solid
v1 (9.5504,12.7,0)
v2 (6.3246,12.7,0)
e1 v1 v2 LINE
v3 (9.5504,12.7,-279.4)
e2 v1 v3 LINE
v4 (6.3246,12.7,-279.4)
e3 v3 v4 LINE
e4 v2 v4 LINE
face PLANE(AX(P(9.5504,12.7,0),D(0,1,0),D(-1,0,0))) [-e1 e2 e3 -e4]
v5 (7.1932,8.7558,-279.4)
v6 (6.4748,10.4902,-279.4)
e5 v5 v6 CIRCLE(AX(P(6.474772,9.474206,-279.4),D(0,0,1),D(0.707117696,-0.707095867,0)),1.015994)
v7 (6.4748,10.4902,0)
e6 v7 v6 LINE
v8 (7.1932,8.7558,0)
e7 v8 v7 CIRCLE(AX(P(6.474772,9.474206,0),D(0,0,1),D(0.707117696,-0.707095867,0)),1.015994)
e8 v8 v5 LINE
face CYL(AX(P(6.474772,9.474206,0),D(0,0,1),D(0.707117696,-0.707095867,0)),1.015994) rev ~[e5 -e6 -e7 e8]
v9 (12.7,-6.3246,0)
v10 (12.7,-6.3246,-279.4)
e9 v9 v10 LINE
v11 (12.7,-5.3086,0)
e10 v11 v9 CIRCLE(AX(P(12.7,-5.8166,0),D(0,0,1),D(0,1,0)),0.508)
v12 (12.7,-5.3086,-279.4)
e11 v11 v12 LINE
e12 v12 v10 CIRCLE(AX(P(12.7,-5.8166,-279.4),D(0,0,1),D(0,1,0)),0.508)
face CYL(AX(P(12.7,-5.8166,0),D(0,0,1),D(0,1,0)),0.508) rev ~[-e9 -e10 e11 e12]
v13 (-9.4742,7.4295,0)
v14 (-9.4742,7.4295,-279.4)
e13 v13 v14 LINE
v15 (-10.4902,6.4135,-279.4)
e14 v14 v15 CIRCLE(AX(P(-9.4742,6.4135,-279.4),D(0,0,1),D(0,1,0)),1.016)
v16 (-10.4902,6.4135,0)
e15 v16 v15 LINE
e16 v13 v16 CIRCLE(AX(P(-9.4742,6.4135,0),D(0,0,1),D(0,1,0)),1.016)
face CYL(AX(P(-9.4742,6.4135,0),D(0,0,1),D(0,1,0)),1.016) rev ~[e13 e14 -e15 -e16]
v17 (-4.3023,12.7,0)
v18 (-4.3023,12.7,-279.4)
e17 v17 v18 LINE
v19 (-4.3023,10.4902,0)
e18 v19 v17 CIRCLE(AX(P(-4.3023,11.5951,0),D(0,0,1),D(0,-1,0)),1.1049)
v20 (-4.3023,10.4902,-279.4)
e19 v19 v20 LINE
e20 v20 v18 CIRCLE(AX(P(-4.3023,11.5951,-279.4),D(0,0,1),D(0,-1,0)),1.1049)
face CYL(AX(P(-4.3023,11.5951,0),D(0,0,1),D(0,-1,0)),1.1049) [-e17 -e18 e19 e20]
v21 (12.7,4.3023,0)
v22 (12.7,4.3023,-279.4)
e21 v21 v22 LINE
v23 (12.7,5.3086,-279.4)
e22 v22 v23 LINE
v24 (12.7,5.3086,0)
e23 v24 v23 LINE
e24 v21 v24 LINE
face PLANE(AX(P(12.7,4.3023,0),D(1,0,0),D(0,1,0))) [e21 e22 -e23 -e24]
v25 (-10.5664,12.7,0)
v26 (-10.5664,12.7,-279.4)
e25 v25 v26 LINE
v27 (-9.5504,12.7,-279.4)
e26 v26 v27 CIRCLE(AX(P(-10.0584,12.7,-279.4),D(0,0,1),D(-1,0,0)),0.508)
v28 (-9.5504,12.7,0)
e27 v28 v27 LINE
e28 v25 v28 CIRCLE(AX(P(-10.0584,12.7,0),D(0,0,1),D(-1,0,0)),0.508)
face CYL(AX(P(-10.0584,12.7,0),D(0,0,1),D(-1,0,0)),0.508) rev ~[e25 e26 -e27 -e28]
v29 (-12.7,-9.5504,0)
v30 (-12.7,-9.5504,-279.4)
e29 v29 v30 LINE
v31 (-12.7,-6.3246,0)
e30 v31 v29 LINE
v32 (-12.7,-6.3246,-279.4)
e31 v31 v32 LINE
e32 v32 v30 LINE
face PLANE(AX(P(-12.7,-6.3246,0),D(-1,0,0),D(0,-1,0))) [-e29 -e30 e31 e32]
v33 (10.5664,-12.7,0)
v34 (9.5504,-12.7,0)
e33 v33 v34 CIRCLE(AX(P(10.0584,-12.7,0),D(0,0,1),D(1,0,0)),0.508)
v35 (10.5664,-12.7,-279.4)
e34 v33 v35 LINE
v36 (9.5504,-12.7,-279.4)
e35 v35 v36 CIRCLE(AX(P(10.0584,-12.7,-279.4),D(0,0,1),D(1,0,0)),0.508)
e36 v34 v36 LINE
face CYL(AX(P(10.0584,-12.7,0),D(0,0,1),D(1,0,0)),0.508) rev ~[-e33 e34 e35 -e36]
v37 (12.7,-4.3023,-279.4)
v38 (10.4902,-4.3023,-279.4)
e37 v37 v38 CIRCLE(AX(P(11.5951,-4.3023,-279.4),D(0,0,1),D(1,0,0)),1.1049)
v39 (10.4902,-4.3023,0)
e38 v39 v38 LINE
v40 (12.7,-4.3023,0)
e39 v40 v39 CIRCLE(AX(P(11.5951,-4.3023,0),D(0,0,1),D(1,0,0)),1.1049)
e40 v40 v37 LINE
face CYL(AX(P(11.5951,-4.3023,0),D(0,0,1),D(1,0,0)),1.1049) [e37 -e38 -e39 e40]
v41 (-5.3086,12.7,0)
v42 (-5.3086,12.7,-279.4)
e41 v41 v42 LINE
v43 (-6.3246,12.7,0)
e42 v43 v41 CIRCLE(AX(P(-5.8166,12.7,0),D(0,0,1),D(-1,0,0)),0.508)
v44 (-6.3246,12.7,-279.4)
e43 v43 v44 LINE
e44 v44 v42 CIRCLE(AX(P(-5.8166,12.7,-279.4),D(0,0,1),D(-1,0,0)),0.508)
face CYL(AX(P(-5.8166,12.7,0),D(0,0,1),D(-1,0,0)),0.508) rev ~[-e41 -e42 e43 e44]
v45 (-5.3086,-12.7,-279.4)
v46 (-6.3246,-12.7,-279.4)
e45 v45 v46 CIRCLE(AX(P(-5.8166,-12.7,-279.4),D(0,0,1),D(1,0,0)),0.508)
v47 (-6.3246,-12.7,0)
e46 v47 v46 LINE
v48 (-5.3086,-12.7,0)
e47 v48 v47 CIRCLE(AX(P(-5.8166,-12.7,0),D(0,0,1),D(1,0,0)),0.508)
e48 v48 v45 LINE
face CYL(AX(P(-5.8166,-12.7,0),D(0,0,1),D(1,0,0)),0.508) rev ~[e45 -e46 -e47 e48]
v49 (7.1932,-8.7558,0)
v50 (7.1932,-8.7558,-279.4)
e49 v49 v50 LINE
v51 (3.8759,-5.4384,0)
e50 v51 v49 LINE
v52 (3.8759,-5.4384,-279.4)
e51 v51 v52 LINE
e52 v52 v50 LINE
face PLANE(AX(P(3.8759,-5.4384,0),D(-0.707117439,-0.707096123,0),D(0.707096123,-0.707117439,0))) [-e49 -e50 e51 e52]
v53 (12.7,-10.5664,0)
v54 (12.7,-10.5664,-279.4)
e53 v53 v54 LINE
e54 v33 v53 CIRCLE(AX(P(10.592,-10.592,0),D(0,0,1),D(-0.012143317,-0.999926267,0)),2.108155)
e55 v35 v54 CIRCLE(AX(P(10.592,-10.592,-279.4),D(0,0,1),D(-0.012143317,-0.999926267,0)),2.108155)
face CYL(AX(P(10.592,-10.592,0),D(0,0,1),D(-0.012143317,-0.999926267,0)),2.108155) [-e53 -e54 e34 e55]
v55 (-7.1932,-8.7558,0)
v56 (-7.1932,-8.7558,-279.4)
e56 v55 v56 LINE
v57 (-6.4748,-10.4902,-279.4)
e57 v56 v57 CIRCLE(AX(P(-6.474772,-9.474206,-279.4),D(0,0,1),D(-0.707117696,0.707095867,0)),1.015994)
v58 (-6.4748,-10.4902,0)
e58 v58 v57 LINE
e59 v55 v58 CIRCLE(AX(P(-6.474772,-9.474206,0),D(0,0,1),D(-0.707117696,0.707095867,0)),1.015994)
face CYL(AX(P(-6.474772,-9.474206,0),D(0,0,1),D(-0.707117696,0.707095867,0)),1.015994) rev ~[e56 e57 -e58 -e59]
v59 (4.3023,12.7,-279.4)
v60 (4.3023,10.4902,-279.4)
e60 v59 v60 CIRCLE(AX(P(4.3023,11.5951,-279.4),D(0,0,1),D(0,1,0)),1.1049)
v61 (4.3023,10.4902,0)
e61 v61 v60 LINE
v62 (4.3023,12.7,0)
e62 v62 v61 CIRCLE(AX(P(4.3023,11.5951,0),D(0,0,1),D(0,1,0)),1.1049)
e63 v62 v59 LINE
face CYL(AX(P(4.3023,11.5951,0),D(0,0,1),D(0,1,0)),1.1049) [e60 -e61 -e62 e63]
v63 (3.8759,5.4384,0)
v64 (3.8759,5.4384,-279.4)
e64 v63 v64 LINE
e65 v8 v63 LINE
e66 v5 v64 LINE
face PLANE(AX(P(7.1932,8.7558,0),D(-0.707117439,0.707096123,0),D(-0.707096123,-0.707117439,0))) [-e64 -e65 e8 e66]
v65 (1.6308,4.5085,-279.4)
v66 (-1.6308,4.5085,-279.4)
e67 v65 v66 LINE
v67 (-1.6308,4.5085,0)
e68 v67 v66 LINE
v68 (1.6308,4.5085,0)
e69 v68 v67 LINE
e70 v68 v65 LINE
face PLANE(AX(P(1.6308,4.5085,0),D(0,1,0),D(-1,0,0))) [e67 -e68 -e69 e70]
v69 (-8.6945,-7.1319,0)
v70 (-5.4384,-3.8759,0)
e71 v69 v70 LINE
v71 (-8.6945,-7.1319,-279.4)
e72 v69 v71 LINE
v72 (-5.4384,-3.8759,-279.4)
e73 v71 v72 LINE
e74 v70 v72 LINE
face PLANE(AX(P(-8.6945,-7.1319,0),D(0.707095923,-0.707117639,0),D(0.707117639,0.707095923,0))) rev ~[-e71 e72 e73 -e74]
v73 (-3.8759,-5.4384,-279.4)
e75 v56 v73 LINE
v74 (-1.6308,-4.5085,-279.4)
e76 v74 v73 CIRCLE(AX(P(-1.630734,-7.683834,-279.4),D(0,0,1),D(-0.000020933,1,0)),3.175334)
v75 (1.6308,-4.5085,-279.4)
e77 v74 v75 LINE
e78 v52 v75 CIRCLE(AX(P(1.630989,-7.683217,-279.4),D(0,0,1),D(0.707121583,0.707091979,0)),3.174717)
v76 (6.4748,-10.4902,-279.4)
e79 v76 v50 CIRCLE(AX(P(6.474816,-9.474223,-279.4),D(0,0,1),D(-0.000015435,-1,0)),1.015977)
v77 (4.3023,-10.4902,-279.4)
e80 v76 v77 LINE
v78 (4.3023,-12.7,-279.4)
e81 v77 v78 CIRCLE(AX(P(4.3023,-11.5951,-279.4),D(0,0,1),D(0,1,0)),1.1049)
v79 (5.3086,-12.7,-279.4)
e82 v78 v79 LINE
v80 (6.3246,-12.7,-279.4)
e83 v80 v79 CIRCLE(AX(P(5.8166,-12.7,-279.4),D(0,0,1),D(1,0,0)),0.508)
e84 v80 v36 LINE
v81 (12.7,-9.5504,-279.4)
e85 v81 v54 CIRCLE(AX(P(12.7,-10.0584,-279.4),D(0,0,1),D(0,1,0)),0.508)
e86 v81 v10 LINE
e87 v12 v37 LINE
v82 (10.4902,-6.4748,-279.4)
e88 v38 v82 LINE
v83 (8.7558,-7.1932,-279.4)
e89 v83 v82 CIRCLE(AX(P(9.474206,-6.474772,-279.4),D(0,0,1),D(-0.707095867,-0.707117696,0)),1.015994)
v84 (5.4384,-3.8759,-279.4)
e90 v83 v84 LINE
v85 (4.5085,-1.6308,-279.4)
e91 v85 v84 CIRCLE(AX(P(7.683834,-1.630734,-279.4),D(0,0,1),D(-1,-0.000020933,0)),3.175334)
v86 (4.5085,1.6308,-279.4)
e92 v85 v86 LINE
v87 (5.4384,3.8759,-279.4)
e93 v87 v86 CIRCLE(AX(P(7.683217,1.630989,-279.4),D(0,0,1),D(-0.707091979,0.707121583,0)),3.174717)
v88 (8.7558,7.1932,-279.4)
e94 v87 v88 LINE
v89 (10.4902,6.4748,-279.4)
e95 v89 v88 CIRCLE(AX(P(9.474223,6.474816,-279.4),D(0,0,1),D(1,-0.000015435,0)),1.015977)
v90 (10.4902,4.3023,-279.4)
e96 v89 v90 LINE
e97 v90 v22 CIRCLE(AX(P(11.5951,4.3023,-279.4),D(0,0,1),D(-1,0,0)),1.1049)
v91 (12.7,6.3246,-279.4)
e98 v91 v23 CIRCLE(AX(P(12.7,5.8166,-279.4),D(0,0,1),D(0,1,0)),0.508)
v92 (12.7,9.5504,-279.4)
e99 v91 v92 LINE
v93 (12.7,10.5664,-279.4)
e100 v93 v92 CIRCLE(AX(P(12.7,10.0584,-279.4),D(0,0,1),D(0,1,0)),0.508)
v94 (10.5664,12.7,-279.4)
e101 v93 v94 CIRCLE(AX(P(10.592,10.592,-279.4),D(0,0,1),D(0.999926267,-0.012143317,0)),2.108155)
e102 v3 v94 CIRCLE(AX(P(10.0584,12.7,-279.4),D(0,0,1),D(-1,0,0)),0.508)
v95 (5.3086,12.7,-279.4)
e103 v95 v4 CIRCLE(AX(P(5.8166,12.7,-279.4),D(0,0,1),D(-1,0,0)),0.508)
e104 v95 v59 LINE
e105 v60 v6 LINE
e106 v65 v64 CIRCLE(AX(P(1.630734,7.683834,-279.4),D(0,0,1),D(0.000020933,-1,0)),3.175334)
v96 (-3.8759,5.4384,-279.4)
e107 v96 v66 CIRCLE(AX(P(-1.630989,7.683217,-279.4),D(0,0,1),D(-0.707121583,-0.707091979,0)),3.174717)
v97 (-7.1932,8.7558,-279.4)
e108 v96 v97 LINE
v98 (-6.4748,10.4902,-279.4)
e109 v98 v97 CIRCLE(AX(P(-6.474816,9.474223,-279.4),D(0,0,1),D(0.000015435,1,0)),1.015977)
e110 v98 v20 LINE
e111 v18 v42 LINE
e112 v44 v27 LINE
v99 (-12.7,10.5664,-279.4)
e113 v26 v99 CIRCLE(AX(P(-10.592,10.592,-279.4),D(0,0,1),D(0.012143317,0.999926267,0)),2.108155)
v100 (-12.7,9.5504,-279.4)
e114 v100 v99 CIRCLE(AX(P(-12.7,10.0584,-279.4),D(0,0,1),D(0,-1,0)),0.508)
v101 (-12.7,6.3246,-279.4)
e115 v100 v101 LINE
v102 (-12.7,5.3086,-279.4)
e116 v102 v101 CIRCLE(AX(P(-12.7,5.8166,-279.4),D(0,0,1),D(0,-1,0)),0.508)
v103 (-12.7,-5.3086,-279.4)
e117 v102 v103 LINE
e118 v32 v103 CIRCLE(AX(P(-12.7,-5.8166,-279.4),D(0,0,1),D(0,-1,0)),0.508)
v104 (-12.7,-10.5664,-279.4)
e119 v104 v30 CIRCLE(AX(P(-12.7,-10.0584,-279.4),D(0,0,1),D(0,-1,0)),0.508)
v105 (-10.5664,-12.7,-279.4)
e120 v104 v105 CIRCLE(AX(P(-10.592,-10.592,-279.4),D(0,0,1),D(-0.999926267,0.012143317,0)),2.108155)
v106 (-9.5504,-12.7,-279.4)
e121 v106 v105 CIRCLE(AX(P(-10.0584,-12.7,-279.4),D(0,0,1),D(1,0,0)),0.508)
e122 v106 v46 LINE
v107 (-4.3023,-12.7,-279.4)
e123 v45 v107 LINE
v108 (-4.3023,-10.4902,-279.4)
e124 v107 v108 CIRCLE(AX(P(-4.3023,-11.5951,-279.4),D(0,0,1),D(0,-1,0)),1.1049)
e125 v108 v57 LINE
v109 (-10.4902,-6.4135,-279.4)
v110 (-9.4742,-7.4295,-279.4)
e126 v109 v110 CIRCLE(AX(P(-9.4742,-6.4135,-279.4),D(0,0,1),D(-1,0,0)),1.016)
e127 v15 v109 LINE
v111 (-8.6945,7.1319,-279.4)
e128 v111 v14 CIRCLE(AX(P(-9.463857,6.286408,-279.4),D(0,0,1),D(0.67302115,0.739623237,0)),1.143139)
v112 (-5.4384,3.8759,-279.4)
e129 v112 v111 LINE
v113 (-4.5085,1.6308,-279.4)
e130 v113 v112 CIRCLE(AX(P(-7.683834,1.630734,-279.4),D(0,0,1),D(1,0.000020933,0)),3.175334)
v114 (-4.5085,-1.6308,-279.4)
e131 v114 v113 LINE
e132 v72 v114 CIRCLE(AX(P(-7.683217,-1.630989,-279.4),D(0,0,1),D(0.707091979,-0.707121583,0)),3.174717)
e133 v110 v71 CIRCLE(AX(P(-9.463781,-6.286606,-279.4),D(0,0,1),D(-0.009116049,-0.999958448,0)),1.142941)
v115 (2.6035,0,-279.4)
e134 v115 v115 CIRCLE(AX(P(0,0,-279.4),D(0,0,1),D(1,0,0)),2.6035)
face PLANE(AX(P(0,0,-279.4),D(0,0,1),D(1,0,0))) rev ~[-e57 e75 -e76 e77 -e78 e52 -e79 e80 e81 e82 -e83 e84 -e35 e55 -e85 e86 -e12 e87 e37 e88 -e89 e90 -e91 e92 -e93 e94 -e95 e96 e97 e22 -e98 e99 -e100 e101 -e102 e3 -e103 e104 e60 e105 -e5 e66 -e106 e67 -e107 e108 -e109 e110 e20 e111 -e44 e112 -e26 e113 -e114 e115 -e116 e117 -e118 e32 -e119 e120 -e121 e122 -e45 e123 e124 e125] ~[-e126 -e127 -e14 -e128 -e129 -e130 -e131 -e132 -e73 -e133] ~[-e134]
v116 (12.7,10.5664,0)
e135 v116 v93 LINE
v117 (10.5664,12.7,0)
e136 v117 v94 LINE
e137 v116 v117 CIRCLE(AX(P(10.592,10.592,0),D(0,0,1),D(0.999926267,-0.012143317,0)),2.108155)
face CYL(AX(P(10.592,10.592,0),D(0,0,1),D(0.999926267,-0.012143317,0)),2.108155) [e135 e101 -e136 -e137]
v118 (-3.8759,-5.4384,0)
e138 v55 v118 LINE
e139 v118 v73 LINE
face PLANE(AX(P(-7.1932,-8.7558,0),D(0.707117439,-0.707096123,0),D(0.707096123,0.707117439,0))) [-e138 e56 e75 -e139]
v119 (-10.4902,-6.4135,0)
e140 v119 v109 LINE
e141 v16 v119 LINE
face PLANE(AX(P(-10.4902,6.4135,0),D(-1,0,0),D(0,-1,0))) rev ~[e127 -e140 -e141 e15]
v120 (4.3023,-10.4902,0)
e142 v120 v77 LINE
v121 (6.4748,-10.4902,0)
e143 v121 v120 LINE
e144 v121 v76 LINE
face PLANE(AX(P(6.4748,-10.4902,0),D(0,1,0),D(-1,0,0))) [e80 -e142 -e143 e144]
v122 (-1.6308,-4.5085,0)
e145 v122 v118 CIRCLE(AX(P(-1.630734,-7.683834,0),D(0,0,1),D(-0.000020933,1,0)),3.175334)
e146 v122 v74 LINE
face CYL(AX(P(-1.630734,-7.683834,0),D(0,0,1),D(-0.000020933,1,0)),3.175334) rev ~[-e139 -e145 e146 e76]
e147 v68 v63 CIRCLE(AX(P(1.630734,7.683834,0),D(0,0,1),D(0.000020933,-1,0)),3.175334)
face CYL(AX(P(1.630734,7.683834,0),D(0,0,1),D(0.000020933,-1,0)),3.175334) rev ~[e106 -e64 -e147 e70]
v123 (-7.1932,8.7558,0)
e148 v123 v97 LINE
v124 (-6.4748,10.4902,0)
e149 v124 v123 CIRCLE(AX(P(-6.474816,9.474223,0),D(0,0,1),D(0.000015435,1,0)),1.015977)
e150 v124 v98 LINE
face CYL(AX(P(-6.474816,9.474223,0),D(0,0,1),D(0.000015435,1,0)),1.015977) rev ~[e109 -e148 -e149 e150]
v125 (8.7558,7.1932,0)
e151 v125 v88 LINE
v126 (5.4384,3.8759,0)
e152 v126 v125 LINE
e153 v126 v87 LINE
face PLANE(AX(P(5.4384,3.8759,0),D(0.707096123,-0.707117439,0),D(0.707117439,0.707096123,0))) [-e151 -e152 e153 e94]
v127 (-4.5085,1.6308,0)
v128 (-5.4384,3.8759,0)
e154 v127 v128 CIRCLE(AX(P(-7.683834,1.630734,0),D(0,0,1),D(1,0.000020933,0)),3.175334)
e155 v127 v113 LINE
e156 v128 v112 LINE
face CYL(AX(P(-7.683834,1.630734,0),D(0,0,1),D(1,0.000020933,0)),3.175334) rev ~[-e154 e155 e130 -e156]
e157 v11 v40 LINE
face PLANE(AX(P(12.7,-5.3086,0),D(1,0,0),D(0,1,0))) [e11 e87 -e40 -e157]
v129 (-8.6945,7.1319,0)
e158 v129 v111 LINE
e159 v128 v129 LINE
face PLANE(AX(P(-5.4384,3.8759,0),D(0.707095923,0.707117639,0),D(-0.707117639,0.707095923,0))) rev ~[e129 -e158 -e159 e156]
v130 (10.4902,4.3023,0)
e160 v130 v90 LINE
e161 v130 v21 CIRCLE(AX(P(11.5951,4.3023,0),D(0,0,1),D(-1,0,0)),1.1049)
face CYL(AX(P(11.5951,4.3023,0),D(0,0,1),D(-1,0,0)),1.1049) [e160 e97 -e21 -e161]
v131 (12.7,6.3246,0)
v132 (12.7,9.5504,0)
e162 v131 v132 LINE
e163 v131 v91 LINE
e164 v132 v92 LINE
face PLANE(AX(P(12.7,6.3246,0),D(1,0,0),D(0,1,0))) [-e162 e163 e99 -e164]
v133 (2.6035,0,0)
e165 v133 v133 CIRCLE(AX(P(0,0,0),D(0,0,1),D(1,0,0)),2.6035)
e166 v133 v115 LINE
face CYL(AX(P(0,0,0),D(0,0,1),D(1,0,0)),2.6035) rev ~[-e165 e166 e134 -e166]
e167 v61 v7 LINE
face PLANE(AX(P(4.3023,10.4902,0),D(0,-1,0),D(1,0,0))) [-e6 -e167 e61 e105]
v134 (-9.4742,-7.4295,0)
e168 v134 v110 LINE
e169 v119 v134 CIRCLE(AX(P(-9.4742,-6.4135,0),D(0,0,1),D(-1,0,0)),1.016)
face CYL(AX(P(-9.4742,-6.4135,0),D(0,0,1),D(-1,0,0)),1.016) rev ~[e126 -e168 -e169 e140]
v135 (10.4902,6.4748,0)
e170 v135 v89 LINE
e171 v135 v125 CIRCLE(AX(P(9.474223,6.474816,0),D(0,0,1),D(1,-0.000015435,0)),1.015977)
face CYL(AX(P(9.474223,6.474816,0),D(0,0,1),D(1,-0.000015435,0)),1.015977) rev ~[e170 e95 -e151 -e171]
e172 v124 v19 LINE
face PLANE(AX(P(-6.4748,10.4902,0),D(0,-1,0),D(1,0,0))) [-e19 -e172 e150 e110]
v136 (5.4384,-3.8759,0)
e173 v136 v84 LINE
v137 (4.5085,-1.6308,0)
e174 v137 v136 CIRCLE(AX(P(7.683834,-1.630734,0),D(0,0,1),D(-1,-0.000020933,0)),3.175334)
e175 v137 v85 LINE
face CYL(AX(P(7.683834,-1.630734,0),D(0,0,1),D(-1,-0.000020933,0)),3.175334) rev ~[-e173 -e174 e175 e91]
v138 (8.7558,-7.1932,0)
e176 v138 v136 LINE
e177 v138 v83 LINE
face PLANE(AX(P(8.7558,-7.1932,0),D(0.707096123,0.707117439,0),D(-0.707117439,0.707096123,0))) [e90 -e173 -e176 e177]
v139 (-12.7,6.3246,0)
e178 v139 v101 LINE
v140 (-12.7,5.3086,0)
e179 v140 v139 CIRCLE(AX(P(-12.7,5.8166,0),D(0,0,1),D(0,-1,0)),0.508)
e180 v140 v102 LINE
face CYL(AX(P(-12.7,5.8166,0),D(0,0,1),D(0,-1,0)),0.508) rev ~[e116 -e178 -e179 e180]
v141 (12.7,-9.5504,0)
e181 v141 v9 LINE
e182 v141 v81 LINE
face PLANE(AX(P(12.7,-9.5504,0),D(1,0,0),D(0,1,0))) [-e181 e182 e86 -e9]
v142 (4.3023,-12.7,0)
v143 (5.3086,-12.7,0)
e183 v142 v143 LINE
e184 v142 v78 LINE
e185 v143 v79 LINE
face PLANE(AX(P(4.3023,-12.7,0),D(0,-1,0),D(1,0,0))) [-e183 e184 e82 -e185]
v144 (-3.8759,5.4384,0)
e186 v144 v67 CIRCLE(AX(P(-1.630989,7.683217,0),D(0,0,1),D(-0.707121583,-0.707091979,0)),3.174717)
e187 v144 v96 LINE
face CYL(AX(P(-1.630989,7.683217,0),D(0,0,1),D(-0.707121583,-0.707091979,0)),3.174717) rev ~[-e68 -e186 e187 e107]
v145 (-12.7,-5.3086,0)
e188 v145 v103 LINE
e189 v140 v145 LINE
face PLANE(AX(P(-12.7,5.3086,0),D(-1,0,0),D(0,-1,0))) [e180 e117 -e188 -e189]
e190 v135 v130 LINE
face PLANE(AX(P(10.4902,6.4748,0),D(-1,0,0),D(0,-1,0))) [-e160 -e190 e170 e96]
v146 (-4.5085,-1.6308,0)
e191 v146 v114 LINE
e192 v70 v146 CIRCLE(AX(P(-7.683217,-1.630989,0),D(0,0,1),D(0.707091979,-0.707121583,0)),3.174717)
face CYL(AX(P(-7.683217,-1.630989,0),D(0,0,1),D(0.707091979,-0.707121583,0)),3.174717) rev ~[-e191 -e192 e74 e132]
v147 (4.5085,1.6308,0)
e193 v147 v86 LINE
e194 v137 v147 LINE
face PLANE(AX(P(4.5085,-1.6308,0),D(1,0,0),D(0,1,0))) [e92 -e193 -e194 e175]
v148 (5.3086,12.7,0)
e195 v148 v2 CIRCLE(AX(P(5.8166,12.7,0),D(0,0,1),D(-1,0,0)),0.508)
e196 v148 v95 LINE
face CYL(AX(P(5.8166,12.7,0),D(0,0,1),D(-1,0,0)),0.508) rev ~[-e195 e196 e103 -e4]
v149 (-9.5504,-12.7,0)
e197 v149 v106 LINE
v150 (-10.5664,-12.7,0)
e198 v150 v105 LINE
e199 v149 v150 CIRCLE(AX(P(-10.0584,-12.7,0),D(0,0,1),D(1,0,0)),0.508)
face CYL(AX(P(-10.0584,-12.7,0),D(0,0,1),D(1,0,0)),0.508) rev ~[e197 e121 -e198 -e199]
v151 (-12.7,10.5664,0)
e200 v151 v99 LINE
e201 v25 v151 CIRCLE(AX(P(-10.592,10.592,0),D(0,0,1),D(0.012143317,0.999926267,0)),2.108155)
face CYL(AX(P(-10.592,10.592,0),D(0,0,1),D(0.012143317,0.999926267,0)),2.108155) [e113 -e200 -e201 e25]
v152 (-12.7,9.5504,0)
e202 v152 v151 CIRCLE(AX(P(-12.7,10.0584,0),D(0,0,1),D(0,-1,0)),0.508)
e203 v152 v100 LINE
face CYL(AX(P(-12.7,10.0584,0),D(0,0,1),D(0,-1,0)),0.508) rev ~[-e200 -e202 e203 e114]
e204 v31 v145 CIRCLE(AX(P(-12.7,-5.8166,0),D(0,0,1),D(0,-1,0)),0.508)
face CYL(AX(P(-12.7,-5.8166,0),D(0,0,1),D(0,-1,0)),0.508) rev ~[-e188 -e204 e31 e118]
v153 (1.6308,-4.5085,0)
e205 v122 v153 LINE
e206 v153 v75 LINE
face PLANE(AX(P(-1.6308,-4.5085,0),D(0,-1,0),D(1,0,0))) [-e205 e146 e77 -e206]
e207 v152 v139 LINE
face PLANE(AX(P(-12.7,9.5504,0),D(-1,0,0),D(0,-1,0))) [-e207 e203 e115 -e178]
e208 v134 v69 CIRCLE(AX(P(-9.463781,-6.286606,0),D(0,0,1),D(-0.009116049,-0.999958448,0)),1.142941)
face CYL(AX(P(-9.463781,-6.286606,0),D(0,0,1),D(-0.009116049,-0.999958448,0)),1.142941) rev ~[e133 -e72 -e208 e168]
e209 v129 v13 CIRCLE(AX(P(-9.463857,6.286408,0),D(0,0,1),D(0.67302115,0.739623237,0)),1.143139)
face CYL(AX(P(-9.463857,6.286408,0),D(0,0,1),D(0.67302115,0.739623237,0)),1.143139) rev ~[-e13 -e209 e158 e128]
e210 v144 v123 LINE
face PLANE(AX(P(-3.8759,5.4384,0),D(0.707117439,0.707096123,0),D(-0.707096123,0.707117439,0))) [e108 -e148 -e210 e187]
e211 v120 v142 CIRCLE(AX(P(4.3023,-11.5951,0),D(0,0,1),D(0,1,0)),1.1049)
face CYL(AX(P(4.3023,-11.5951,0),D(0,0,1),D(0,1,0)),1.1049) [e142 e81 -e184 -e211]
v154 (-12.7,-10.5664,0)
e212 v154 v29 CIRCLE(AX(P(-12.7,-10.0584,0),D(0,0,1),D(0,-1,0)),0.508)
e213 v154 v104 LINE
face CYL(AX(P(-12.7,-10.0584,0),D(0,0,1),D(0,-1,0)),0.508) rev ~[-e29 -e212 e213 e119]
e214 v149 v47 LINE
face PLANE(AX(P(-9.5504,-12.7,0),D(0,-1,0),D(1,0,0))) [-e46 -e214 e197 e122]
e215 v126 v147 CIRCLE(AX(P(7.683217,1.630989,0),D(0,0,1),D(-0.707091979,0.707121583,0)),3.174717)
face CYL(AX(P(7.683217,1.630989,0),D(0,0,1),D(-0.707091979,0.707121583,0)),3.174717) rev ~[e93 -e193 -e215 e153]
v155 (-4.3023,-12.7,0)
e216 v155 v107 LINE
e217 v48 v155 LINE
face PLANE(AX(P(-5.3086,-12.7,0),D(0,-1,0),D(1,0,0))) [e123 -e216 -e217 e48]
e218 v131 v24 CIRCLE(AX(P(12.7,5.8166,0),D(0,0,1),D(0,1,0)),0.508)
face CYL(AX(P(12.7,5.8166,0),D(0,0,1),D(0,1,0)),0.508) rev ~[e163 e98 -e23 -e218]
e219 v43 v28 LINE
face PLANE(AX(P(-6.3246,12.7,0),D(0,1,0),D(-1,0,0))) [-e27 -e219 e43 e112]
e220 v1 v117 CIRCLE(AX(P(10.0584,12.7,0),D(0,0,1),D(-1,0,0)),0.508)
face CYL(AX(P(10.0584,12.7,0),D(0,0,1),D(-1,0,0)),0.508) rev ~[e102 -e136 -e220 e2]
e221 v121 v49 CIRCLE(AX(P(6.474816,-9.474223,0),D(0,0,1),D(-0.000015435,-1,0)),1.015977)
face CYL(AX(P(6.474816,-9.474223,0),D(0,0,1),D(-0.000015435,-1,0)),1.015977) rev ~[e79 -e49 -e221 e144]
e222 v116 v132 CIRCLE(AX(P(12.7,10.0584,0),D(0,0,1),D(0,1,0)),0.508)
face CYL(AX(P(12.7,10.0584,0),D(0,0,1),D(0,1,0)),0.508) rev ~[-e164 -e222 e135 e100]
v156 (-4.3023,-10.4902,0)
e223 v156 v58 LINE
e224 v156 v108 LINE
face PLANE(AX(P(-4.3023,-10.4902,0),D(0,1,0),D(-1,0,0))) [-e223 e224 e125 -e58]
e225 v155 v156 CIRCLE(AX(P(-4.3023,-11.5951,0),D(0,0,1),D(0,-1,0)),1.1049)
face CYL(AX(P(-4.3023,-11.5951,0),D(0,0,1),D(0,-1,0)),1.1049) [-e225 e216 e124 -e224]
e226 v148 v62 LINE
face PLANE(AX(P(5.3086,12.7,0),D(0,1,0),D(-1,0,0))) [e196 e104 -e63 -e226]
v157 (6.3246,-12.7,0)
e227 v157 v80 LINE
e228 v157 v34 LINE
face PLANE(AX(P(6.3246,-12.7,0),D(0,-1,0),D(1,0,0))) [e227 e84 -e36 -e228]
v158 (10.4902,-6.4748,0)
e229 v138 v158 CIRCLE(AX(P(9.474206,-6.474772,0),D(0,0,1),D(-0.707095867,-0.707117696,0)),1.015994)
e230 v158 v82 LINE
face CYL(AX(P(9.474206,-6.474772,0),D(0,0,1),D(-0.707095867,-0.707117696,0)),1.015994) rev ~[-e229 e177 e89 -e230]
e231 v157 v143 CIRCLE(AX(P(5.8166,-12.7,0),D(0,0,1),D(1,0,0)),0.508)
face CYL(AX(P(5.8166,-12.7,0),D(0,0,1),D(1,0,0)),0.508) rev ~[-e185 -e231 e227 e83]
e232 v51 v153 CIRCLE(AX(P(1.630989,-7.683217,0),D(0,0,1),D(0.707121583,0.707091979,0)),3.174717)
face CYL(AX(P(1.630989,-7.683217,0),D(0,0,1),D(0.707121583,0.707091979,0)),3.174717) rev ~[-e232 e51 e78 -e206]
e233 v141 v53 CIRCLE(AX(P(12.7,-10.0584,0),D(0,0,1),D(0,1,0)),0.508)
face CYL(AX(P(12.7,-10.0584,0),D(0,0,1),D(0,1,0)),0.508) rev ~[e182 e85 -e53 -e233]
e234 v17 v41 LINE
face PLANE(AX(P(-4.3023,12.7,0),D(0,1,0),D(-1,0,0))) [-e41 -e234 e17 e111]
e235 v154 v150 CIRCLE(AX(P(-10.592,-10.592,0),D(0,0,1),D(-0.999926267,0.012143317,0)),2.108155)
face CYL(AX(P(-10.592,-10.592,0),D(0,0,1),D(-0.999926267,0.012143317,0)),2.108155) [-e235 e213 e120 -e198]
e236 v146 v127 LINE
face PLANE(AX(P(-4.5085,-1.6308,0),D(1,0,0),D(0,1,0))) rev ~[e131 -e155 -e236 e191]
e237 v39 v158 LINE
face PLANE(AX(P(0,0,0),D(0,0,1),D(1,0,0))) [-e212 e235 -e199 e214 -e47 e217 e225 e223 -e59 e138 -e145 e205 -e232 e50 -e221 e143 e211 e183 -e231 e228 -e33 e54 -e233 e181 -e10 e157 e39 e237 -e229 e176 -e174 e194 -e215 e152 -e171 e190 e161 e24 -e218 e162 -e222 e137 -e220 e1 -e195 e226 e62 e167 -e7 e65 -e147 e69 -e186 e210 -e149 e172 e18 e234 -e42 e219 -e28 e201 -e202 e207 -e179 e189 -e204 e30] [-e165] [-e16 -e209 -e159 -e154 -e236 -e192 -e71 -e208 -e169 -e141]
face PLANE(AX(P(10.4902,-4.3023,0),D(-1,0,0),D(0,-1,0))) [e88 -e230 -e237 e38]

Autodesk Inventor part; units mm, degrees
ref_plane "YZ Plane" through (0, 0, 0) normal (1, 0, 0) x (0, 1, 0)
ref_plane "XZ Plane" through (0, 0, 0) normal (0, 1, 0) x (-1, 0, 0)
ref_plane "XY Plane" through (0, 0, 0) normal (0, 0, 1) x (1, 0, 0)
sketch "Sketch_1" plane through (0, 0, 0) normal (0, 0, 1) x (1, 0, 0)
  arc A0 (-12.7, -10.5664) -> (-10.5664, -12.7) centre (-10.592, -10.592) ccw
  arc A1 (-9.5504, -12.7) -> (-10.5664, -12.7) centre (-10.0584, -12.7) ccw
  line L0 (-9.5504, -12.7) -> (-6.3246, -12.7)
  arc A2 (-5.3086, -12.7) -> (-6.3246, -12.7) centre (-5.8166, -12.7) ccw
  line L1 (-5.3086, -12.7) -> (-4.3023, -12.7)
  arc A3 (-4.3023, -12.7) -> (-4.3023, -10.4902) centre (-4.3023, -11.5951) ccw
  line L2 (-4.3023, -10.4902) -> (-6.4748, -10.4902)
  arc A4 (-7.1932, -8.7558) -> (-6.4748, -10.4902) centre (-6.4748, -9.4742) ccw
  line L3 (-7.1932, -8.7558) -> (-3.8759, -5.4384)
  arc A5 (-1.6308, -4.5085) -> (-3.8759, -5.4384) centre (-1.6308, -7.6835) ccw
  line L4 (-1.6308, -4.5085) -> (1.6308, -4.5085)
  arc A6 (3.8759, -5.4384) -> (1.6308, -4.5085) centre (1.6308, -7.6835) ccw
  line L5 (3.8759, -5.4384) -> (7.1932, -8.7558)
  arc A7 (6.4748, -10.4902) -> (7.1932, -8.7558) centre (6.4748, -9.4742) ccw
  line L6 (6.4748, -10.4902) -> (4.3023, -10.4902)
  arc A8 (4.3023, -10.4902) -> (4.3023, -12.7) centre (4.3023, -11.5951) ccw
  line L7 (4.3023, -12.7) -> (5.3086, -12.7)
  arc A9 (6.3246, -12.7) -> (5.3086, -12.7) centre (5.8166, -12.7) ccw
  line L8 (6.3246, -12.7) -> (9.5504, -12.7)
  arc A10 (10.5664, -12.7) -> (9.5504, -12.7) centre (10.0584, -12.7) ccw
  arc A11 (10.5664, -12.7) -> (12.7, -10.5664) centre (10.592, -10.592) ccw
  arc A12 (12.7, -9.5504) -> (12.7, -10.5664) centre (12.7, -10.0584) ccw
  line L9 (12.7, -9.5504) -> (12.7, -6.3246)
  arc A13 (12.7, -5.3086) -> (12.7, -6.3246) centre (12.7, -5.8166) ccw
  line L10 (12.7, -5.3086) -> (12.7, -4.3023)
  arc A14 (12.7, -4.3023) -> (10.4902, -4.3023) centre (11.5951, -4.3023) ccw
  line L11 (10.4902, -4.3023) -> (10.4902, -6.4748)
  arc A15 (8.7558, -7.1932) -> (10.4902, -6.4748) centre (9.4742, -6.4748) ccw
  line L12 (8.7558, -7.1932) -> (5.4384, -3.8759)
  arc A16 (4.5085, -1.6308) -> (5.4384, -3.8759) centre (7.6835, -1.6308) ccw
  line L13 (4.5085, -1.6308) -> (4.5085, 1.6308)
  arc A17 (5.4384, 3.8759) -> (4.5085, 1.6308) centre (7.6835, 1.6308) ccw
  line L14 (5.4384, 3.8759) -> (8.7558, 7.1932)
  arc A18 (10.4902, 6.4748) -> (8.7558, 7.1932) centre (9.4742, 6.4748) ccw
  line L15 (10.4902, 6.4748) -> (10.4902, 4.3023)
  arc A19 (10.4902, 4.3023) -> (12.7, 4.3023) centre (11.5951, 4.3023) ccw
  line L16 (12.7, 4.3023) -> (12.7, 5.3086)
  arc A20 (12.7, 6.3246) -> (12.7, 5.3086) centre (12.7, 5.8166) ccw
  line L17 (12.7, 6.3246) -> (12.7, 9.5504)
  arc A21 (12.7, 10.5664) -> (12.7, 9.5504) centre (12.7, 10.0584) ccw
  arc A22 (12.7, 10.5664) -> (10.5664, 12.7) centre (10.592, 10.592) ccw
  arc A23 (9.5504, 12.7) -> (10.5664, 12.7) centre (10.0584, 12.7) ccw
  line L18 (9.5504, 12.7) -> (6.3246, 12.7)
  arc A24 (5.3086, 12.7) -> (6.3246, 12.7) centre (5.8166, 12.7) ccw
  line L19 (5.3086, 12.7) -> (4.3023, 12.7)
  arc A25 (4.3023, 12.7) -> (4.3023, 10.4902) centre (4.3023, 11.5951) ccw
  line L20 (4.3023, 10.4902) -> (6.4748, 10.4902)
  arc A26 (7.1932, 8.7558) -> (6.4748, 10.4902) centre (6.4748, 9.4742) ccw
  line L21 (7.1932, 8.7558) -> (3.8759, 5.4384)
  arc A27 (1.6308, 4.5085) -> (3.8759, 5.4384) centre (1.6308, 7.6835) ccw
  line L22 (1.6308, 4.5085) -> (-1.6308, 4.5085)
  arc A28 (-3.8759, 5.4384) -> (-1.6308, 4.5085) centre (-1.6308, 7.6835) ccw
  line L23 (-3.8759, 5.4384) -> (-7.1932, 8.7558)
  arc A29 (-6.4748, 10.4902) -> (-7.1932, 8.7558) centre (-6.4748, 9.4742) ccw
  line L24 (-6.4748, 10.4902) -> (-4.3023, 10.4902)
  arc A30 (-4.3023, 10.4902) -> (-4.3023, 12.7) centre (-4.3023, 11.5951) ccw
  line L25 (-4.3023, 12.7) -> (-5.3086, 12.7)
  arc A31 (-6.3246, 12.7) -> (-5.3086, 12.7) centre (-5.8166, 12.7) ccw
  line L26 (-6.3246, 12.7) -> (-9.5504, 12.7)
  arc A32 (-10.5664, 12.7) -> (-9.5504, 12.7) centre (-10.0584, 12.7) ccw
  arc A33 (-10.5664, 12.7) -> (-12.7, 10.5664) centre (-10.592, 10.592) ccw
  arc A34 (-12.7, 9.5504) -> (-12.7, 10.5664) centre (-12.7, 10.0584) ccw
  line L27 (-12.7, 9.5504) -> (-12.7, 6.3246)
  arc A35 (-12.7, 5.3086) -> (-12.7, 6.3246) centre (-12.7, 5.8166) ccw
  line L28 (-12.7, 5.3086) -> (-12.7, -5.3086)
  arc A36 (-12.7, -6.3246) -> (-12.7, -5.3086) centre (-12.7, -5.8166) ccw
  line L29 (-12.7, -6.3246) -> (-12.7, -9.5504)
  arc A37 (-12.7, -10.5664) -> (-12.7, -9.5504) centre (-12.7, -10.0584) ccw
  circle A38 centre (0, 0) radius 2.6035
  arc A39 (-10.4902, -6.4135) -> (-9.4742, -7.4295) centre (-9.4742, -6.4135) ccw
  arc A40 (-9.4742, -7.4295) -> (-8.6945, -7.1319) centre (-9.4638, -6.2865) ccw
  line L30 (-8.6945, -7.1319) -> (-5.4384, -3.8759)
  arc A41 (-5.4384, -3.8759) -> (-4.5085, -1.6308) centre (-7.6835, -1.6308) ccw
  line L31 (-4.5085, -1.6308) -> (-4.5085, 1.6308)
  arc A42 (-4.5085, 1.6308) -> (-5.4384, 3.8759) centre (-7.6835, 1.6308) ccw
  line L32 (-5.4384, 3.8759) -> (-8.6945, 7.1319)
  arc A43 (-8.6945, 7.1319) -> (-9.4742, 7.4295) centre (-9.4638, 6.2865) ccw
  arc A44 (-9.4742, 7.4295) -> (-10.4902, 6.4135) centre (-9.4742, 6.4135) ccw
  line L33 (-10.4902, 6.4135) -> (-10.4902, -6.4135)
extrude "Extrusion1" add sketch "Sketch_1" against normal blind 279.4
properties part number "1003-11-CL"
